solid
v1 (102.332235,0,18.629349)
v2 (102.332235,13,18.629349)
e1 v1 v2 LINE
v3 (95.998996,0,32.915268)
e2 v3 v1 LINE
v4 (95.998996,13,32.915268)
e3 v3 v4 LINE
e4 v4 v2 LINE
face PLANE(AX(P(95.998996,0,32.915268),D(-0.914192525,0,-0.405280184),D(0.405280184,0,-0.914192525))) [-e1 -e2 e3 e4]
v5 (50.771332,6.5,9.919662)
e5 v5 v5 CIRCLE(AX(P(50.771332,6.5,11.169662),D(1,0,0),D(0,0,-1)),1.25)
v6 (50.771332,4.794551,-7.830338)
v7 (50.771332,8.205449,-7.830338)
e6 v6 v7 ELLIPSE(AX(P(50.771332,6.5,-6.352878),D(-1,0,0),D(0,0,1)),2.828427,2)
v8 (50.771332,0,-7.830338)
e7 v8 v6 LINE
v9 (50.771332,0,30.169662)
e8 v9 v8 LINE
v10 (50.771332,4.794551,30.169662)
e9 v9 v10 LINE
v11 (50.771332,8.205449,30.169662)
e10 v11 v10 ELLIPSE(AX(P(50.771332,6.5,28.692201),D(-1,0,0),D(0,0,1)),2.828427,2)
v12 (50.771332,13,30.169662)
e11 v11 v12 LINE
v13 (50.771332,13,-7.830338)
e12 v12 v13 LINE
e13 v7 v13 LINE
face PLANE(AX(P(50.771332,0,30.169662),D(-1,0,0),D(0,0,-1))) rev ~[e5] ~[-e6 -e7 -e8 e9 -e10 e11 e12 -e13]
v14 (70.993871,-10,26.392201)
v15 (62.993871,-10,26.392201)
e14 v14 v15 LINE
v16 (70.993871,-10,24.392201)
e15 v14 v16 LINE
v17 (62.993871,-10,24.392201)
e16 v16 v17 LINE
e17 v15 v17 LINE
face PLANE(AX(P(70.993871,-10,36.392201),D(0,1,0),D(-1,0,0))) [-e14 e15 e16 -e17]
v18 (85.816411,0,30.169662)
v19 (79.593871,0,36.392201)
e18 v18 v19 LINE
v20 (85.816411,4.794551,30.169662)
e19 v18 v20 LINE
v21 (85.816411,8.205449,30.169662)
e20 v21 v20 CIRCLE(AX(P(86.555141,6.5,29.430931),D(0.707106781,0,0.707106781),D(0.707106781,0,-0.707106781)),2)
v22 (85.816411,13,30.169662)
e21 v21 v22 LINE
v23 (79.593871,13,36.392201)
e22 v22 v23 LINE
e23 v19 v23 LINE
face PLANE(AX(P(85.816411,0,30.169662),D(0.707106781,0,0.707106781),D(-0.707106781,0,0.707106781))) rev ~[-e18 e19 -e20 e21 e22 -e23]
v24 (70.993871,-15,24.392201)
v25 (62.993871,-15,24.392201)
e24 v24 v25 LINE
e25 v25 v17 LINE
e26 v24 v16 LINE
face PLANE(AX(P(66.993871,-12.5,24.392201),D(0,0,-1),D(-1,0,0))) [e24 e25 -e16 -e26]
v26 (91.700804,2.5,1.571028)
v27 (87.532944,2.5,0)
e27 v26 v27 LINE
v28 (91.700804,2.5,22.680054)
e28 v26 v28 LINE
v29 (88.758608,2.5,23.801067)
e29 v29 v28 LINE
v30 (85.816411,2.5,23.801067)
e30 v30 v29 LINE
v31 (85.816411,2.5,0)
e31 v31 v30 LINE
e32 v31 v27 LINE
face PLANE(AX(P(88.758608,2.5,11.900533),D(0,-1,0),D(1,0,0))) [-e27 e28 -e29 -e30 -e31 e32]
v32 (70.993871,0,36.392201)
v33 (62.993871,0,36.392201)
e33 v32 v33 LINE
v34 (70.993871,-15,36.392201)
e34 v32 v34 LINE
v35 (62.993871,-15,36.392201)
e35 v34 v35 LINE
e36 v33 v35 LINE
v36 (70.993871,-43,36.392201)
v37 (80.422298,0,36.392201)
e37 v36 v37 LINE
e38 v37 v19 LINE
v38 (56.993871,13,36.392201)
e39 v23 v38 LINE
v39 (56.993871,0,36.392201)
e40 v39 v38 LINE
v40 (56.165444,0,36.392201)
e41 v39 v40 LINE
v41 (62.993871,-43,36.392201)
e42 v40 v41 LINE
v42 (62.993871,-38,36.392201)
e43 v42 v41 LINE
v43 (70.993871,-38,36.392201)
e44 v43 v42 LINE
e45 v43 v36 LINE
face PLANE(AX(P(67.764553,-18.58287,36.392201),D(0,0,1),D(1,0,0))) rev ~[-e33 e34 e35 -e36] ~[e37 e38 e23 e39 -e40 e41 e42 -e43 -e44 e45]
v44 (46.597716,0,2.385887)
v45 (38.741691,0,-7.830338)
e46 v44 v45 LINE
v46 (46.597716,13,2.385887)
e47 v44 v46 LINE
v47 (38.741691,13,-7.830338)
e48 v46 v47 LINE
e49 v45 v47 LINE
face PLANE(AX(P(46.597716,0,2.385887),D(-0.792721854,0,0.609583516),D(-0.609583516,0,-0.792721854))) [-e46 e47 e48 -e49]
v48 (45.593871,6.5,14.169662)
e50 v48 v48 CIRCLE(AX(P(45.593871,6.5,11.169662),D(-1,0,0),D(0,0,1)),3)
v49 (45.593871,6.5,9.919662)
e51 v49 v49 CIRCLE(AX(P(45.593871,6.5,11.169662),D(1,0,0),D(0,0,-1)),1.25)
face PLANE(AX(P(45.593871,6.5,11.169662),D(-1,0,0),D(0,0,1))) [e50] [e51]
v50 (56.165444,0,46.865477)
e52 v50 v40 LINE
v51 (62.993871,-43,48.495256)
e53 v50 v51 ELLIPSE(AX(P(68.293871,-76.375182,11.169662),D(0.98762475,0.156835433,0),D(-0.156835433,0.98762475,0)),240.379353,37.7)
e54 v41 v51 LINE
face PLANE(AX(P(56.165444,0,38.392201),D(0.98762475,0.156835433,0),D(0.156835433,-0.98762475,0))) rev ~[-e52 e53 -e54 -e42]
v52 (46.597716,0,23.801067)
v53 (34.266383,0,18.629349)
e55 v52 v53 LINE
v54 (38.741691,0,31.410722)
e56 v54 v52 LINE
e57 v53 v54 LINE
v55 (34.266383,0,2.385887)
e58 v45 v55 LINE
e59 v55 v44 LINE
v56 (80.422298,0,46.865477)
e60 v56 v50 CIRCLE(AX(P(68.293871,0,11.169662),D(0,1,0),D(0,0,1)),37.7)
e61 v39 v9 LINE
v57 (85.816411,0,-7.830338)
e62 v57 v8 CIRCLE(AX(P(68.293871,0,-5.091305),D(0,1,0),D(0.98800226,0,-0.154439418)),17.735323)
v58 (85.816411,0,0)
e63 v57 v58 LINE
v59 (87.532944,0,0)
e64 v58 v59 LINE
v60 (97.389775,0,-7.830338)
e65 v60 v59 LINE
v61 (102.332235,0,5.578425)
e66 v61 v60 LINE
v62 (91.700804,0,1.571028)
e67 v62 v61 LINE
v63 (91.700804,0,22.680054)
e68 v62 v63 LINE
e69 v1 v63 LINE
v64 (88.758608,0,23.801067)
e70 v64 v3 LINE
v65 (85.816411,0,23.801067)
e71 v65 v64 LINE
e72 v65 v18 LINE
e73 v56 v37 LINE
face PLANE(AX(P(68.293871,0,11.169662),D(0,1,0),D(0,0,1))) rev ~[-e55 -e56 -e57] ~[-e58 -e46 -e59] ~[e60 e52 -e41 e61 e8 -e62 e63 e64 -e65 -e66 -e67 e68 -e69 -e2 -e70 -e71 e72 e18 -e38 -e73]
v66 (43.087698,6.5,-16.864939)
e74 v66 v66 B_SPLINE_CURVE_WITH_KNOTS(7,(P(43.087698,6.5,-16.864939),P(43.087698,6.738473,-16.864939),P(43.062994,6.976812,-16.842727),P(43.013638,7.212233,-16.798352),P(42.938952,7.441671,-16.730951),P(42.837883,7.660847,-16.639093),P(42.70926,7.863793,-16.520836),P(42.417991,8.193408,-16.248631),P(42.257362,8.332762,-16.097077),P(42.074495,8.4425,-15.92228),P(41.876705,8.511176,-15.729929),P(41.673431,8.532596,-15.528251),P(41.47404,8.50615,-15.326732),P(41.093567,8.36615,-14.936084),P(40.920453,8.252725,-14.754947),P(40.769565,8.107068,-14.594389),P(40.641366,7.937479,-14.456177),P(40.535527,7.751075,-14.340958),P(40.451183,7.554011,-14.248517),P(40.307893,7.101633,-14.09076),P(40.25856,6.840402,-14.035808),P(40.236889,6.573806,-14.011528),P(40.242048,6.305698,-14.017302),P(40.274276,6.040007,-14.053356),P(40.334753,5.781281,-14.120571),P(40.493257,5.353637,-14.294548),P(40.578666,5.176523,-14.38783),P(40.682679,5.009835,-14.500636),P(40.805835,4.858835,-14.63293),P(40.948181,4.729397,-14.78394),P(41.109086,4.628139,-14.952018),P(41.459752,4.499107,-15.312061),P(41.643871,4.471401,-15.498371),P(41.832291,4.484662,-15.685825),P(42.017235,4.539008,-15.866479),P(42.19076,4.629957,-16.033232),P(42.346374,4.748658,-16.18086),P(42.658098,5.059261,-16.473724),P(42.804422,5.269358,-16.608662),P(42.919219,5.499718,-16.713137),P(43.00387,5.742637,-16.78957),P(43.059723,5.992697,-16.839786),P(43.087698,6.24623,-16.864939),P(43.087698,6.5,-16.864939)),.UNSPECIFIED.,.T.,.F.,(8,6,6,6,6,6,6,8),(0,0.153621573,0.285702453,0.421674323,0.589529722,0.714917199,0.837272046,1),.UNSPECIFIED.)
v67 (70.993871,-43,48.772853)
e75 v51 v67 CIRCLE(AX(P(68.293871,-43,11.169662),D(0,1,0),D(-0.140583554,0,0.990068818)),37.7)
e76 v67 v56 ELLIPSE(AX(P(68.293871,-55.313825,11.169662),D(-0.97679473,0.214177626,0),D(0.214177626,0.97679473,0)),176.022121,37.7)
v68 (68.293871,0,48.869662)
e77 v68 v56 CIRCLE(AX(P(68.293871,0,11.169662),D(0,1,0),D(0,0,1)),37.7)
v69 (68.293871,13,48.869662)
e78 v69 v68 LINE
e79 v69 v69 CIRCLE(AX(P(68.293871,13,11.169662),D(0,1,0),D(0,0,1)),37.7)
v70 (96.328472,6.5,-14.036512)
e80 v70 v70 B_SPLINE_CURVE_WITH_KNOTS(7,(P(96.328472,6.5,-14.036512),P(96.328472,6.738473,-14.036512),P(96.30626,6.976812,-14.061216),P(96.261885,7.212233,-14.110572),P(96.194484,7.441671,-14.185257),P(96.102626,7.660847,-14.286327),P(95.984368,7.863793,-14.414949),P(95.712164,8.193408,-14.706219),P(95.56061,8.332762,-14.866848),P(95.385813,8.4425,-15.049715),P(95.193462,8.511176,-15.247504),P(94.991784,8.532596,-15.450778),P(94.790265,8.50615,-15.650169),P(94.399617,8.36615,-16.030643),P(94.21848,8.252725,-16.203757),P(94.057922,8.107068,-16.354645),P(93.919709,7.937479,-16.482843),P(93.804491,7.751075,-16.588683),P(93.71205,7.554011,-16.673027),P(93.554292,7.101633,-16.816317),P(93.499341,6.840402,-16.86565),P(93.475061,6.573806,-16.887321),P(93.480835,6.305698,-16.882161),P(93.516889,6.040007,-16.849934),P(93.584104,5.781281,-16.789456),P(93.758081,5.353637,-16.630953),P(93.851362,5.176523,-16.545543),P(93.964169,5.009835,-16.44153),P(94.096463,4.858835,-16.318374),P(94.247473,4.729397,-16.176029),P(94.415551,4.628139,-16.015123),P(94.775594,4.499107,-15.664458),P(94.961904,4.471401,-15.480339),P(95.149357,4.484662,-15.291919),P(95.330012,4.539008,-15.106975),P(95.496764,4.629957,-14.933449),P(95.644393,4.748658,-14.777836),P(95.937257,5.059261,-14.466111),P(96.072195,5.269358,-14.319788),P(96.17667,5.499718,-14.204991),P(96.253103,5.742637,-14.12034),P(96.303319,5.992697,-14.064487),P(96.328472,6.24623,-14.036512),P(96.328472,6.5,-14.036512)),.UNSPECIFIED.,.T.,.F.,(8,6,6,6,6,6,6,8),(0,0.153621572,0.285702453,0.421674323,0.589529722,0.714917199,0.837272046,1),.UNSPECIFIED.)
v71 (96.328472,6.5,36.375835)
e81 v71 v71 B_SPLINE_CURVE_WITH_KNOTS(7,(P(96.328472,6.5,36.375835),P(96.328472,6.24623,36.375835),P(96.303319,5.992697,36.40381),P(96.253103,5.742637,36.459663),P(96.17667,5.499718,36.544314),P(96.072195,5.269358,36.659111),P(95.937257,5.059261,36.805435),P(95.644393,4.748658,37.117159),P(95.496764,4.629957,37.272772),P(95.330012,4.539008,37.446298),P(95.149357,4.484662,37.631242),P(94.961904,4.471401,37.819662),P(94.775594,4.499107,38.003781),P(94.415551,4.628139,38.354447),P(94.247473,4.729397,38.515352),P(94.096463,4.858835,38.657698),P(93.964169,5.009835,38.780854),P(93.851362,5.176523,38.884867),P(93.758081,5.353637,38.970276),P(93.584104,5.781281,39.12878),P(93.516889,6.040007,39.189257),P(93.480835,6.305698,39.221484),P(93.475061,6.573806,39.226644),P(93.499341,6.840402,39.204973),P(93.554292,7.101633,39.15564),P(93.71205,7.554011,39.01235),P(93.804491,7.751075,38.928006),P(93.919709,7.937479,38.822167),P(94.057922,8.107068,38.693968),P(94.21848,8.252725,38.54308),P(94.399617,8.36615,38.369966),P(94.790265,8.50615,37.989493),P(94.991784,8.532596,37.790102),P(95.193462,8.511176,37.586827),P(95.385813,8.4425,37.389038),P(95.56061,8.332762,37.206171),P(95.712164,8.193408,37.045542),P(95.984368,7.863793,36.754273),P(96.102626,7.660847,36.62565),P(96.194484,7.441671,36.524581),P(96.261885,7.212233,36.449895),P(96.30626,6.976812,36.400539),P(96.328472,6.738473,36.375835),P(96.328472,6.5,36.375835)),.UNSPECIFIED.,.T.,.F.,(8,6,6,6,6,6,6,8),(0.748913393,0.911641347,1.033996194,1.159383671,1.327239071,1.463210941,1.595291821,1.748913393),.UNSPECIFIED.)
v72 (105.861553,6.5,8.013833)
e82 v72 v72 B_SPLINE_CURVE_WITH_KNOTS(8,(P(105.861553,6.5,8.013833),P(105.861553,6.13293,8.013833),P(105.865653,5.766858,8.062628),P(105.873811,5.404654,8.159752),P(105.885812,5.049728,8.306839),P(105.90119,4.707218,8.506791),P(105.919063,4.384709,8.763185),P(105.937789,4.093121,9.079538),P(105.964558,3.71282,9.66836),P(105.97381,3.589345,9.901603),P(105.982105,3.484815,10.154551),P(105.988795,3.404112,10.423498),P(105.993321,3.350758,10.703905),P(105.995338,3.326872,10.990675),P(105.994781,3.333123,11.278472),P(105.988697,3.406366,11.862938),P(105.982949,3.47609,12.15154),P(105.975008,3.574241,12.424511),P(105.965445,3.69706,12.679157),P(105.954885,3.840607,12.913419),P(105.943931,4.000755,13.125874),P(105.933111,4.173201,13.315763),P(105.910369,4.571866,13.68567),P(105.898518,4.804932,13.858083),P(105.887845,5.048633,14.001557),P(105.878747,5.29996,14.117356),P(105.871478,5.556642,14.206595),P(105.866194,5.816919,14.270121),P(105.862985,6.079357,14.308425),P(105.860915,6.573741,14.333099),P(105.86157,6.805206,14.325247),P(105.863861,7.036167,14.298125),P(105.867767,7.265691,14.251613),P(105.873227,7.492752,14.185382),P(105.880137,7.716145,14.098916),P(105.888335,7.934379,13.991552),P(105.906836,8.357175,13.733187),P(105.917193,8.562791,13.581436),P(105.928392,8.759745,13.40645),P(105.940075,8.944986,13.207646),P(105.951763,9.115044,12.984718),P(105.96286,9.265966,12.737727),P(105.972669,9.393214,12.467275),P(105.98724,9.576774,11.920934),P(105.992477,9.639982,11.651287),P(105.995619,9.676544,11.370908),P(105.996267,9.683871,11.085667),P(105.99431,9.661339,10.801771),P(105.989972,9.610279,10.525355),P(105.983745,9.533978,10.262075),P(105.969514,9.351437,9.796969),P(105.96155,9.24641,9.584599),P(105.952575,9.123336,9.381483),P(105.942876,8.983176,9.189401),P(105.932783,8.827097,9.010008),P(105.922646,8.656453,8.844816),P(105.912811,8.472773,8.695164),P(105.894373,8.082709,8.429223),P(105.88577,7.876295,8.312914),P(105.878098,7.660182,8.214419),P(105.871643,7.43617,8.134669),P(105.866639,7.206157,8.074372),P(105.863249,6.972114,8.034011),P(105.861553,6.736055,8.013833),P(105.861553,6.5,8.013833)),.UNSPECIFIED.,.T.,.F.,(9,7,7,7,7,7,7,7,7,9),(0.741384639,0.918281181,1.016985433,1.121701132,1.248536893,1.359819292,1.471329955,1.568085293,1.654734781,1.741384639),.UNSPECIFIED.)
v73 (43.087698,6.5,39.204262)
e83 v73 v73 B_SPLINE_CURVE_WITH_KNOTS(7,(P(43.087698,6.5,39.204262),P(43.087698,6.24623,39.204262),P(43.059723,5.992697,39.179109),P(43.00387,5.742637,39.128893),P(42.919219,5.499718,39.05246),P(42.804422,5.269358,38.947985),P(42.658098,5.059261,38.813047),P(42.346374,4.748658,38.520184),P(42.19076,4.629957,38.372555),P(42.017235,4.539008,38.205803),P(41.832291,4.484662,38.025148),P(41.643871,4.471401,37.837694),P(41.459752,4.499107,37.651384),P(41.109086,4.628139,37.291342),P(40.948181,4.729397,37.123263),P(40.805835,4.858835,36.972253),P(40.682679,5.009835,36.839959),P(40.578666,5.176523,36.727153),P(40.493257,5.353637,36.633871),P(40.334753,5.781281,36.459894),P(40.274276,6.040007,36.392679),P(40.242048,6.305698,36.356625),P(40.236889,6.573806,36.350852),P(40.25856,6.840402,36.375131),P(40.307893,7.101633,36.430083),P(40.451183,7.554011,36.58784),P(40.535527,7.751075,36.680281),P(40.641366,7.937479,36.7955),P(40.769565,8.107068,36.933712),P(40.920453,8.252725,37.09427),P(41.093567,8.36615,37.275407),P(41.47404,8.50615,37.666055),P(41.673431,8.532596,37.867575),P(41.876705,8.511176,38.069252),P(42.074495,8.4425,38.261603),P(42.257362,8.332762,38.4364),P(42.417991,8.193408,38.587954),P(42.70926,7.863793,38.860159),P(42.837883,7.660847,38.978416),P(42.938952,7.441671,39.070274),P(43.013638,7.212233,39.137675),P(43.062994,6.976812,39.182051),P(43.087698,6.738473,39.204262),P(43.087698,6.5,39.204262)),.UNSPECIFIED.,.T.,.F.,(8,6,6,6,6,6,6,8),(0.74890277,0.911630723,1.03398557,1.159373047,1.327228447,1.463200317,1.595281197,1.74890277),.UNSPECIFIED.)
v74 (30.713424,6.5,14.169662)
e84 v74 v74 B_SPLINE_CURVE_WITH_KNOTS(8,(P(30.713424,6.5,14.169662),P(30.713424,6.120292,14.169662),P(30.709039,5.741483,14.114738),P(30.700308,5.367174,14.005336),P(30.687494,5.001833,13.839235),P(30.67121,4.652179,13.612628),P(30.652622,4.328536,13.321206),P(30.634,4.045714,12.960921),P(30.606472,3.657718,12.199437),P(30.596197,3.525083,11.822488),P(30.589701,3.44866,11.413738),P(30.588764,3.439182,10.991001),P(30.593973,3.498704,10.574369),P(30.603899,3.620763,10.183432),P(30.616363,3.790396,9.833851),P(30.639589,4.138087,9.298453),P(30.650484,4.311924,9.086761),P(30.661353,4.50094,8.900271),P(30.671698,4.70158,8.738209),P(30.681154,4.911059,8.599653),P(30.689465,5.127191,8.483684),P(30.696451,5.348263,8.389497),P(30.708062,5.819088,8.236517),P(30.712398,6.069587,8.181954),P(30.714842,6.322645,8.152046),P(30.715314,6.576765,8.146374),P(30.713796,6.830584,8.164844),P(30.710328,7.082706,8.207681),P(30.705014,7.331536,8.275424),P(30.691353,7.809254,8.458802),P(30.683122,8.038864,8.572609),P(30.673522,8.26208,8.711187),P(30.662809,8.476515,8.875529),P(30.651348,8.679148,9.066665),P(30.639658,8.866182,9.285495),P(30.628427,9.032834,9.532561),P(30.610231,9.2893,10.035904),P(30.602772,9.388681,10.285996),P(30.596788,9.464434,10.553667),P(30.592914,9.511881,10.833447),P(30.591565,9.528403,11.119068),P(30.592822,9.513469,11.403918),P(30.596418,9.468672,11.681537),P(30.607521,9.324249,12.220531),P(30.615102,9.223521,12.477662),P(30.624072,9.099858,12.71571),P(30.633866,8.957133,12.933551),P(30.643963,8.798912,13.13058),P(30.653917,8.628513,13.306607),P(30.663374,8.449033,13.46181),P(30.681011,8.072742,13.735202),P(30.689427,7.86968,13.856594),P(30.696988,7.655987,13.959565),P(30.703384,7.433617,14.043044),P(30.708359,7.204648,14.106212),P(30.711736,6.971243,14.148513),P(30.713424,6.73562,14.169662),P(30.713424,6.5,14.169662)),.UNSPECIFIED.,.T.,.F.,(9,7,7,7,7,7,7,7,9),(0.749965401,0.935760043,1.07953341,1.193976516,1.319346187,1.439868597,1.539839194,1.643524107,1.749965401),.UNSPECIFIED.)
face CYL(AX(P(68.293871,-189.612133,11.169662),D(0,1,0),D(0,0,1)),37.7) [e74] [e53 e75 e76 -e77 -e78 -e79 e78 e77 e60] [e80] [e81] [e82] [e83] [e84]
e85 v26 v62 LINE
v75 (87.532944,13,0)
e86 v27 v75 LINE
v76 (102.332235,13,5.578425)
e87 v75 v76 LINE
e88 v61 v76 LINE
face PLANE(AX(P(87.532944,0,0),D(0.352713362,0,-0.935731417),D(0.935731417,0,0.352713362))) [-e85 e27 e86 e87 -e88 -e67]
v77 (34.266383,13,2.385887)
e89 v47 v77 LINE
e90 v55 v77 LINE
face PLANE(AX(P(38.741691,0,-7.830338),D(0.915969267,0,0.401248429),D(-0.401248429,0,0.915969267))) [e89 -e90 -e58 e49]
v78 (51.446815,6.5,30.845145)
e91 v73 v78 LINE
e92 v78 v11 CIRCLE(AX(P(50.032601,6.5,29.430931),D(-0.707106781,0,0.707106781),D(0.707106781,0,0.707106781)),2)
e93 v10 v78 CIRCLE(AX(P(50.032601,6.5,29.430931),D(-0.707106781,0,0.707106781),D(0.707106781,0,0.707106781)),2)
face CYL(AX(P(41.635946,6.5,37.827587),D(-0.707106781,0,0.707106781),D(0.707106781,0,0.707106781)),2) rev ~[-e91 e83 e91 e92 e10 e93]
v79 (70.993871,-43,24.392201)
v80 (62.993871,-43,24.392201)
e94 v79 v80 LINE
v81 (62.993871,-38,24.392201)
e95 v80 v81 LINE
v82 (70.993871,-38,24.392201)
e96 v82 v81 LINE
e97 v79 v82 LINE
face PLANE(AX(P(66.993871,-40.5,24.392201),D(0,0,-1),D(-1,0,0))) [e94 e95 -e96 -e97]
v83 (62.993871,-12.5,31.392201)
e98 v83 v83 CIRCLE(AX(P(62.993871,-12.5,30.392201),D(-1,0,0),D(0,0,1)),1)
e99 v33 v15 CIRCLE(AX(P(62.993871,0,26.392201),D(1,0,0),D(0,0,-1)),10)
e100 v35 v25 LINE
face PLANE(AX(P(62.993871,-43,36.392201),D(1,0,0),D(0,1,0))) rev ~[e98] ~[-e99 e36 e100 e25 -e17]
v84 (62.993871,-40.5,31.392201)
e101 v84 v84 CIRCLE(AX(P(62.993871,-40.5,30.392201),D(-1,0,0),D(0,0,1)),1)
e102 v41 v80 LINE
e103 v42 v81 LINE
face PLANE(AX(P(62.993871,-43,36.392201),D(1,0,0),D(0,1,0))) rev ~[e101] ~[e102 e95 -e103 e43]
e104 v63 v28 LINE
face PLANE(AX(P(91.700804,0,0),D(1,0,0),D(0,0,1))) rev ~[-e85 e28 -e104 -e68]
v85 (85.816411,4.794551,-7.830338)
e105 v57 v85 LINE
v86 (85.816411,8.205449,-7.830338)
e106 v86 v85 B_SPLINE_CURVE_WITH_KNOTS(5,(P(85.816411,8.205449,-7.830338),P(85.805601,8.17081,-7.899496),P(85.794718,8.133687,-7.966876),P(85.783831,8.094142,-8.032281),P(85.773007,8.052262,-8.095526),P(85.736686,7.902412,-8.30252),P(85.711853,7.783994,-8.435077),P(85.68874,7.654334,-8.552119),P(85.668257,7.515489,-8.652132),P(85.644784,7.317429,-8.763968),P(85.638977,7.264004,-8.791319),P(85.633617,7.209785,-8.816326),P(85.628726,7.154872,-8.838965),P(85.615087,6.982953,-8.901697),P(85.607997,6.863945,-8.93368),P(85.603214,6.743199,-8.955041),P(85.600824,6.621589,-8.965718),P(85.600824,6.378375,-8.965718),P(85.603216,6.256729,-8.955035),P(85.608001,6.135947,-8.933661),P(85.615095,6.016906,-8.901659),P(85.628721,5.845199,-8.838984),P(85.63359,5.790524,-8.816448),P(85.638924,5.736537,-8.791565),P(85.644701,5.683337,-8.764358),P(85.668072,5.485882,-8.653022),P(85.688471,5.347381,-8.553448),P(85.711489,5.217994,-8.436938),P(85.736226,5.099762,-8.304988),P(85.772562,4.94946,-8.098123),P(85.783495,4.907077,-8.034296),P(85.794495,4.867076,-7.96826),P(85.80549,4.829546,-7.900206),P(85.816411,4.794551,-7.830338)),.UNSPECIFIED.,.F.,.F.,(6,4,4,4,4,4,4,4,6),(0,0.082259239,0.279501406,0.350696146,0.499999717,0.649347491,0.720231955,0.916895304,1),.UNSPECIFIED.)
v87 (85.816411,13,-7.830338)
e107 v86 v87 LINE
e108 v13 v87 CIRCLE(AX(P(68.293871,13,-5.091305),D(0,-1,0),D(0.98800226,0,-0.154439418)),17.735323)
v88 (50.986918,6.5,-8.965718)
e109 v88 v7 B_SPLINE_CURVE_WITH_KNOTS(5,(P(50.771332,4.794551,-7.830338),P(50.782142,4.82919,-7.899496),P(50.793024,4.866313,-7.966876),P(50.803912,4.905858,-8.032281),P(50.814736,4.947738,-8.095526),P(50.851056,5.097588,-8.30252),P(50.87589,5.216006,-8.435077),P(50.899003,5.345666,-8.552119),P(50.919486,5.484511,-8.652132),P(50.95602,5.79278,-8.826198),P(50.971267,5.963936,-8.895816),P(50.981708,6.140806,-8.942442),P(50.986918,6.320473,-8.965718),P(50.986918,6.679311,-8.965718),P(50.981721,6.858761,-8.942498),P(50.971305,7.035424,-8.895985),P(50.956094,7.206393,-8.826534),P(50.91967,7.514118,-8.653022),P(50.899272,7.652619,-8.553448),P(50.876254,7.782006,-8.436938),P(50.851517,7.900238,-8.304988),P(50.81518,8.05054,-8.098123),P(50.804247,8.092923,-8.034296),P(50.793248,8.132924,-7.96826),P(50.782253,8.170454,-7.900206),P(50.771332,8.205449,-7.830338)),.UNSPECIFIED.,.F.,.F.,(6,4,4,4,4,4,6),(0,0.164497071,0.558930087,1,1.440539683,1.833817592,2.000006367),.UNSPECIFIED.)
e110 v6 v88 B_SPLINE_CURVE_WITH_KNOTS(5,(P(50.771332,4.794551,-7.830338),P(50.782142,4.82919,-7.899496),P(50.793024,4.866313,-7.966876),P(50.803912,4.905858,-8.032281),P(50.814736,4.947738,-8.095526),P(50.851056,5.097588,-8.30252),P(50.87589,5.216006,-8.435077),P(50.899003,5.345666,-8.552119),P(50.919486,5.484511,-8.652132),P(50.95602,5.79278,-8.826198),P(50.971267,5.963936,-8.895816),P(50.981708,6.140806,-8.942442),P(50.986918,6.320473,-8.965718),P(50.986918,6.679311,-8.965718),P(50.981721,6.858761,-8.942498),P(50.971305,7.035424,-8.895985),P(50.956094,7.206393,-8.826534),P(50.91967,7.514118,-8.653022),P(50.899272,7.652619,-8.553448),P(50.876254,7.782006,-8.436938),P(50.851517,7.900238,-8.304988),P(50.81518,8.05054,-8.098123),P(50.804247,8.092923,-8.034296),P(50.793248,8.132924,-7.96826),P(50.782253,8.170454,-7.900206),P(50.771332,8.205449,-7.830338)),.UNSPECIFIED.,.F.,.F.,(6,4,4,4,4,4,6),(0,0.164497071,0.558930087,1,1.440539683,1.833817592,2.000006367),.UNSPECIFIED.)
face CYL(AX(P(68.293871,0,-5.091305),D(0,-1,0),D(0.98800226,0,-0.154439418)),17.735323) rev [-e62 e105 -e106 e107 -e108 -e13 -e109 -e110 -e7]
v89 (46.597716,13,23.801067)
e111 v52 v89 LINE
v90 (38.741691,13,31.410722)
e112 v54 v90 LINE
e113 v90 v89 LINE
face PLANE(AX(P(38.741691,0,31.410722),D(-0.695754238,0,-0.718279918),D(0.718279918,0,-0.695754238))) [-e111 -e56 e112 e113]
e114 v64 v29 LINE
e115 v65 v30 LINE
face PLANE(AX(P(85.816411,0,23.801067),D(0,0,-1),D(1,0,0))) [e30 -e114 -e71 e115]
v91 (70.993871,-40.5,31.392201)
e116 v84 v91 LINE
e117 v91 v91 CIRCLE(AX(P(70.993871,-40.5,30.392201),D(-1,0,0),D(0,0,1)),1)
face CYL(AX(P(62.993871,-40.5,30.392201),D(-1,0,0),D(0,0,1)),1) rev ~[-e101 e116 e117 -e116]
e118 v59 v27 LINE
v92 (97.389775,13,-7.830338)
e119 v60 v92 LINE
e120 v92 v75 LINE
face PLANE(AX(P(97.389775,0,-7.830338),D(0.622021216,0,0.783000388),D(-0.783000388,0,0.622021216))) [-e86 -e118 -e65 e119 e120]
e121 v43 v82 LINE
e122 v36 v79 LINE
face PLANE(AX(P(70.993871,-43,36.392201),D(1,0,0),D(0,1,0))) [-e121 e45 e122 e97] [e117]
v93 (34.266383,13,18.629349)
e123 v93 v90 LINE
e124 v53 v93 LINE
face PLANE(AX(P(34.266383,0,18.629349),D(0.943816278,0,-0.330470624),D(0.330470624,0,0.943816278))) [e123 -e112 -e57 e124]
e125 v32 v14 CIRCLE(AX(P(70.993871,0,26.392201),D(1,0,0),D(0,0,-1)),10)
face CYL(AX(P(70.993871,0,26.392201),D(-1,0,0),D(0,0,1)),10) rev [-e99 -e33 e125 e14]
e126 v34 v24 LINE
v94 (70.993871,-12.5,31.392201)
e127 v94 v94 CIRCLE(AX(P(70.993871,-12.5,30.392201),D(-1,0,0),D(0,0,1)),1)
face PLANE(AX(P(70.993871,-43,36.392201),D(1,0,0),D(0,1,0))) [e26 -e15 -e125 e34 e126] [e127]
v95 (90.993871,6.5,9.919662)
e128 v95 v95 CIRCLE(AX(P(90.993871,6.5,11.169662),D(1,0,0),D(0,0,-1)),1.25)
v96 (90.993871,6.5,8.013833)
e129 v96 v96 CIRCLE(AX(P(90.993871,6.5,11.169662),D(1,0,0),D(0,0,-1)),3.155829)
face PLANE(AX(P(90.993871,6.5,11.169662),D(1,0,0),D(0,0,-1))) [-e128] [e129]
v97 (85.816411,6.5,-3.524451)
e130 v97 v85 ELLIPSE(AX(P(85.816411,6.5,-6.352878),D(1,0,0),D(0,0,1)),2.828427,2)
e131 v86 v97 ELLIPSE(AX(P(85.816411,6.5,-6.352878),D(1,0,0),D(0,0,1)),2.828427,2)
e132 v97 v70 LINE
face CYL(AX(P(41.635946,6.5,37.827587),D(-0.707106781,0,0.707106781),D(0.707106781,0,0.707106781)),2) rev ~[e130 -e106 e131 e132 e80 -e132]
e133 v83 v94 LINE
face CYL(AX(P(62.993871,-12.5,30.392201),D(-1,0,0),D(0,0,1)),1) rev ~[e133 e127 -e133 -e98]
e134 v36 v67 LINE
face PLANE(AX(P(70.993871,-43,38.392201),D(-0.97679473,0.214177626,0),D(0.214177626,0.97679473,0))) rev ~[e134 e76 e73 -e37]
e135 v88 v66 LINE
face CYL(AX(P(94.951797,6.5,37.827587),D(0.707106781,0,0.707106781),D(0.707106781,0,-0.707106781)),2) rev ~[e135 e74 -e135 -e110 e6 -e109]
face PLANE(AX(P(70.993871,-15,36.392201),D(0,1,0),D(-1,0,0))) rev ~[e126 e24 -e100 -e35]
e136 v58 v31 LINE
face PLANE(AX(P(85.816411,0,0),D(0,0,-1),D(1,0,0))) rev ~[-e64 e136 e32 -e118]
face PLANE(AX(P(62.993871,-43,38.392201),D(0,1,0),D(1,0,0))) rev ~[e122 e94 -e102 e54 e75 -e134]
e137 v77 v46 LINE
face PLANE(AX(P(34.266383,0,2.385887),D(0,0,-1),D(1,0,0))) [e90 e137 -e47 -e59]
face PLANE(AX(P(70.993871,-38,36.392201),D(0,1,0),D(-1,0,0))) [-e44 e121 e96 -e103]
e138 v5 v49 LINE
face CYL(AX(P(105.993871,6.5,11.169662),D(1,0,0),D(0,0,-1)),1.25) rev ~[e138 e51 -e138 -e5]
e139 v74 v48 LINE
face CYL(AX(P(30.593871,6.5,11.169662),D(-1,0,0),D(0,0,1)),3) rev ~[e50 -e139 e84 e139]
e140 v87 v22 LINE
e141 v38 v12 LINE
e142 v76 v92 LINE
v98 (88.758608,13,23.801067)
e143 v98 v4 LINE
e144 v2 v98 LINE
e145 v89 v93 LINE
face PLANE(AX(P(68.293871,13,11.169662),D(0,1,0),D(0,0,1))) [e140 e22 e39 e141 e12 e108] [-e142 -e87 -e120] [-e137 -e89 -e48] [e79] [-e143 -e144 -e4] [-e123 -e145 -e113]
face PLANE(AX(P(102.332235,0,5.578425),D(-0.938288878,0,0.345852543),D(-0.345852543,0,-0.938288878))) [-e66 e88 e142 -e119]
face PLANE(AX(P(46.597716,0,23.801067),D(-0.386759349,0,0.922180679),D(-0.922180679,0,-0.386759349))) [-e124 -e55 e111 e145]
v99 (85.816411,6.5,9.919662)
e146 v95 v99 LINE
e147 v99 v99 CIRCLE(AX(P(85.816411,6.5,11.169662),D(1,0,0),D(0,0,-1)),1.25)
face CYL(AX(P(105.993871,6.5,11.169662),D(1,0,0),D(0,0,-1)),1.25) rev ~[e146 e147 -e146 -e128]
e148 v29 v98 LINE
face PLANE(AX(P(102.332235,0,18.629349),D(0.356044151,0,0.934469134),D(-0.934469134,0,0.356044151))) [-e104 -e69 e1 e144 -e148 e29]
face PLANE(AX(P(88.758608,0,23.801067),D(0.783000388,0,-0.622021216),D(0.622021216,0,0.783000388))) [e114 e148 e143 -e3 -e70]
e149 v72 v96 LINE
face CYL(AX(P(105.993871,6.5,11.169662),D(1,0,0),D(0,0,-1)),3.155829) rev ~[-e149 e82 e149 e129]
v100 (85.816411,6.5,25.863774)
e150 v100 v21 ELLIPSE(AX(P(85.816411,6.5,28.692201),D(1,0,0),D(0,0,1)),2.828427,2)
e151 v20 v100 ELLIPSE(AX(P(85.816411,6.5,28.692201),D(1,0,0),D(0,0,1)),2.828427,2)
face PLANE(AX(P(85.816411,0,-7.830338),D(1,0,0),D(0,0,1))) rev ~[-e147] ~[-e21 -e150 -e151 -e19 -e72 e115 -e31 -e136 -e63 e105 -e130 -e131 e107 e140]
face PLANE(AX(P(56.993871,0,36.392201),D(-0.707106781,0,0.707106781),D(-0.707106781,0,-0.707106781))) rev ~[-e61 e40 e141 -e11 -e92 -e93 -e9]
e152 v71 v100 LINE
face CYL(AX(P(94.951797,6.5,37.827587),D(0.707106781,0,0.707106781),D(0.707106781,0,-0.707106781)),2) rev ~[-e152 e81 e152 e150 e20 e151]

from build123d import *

# Parameters (mm, degrees)
BOSS_EXTRUDE1_DEPTH      = 13
SKETCH4_W                = 8
SKETCH4_H                = 2
BOSS_EXTRUDE2_DEPTH      = 43
SKETCH5_W                = 8
SKETCH5_H                = 5
BOSS_EXTRUDE3_DEPTH      = 12
SKETCH6_R                = 1
CUT_EXTRUDE3_DEPTH       = 13
FILLET1_R                = 10
BOSS_EXTRUDE4_DEPTH      = 2
SKETCH11_R               = 37.7
BOSS_EXTRUDE5_DEPTH      = 13
SKETCH22_R               = 1.25
CUT_EXTRUDE6_DEPTH       = 83
SKETCH22_3_R             = 3.155829002
SKETCH22_3_R_2           = 1.25
CUT_EXTRUDE7_DEPTH       = 15
SKETCH23_R               = 3
CUT_EXTRUDE8_DEPTH       = 15
BOSS_EXTRUDE6_REACH      = 133.524
BOSS_EXTRUDE6_END_RADIUS = 37.7
SKETCH26_R               = 2
CUT_EXTRUDE9_DEPTH       = 88
SKETCH27_R               = 2
CUT_EXTRUDE10_DEPTH      = 120
SKETCH28_W               = 5.884393281
SKETCH28_H               = 23.801066831
CUT_EXTRUDE11_DEPTH      = 2.5
CUT_EXTRUDE12_REACH      = 126.386


with BuildPart() as part:
    # Sketch2 → Boss-Extrude1 (new body)
    with BuildSketch(Plane(origin=(0, 0, 0), x_dir=(1, 0, 0), z_dir=(0, 1, 0))):
        Polygon((56.165444193, 16.052878064), (80.422298442, 16.052878064), (87.816410992, 8.658765514), (87.816410992, -30.998088735), (80.422298442, -38.392201285), (56.165444193, -38.392201285), (48.771331643, -30.998088735), (48.771331643, 8.658765514), align=None)
        Polygon((50.771331643, -30.16966161), (50.771331643, 7.83033839), (56.993871317, 14.052878064), (79.593871317, 14.052878064), (85.816410992, 7.83033839), (85.816410992, -30.16966161), (79.593871317, -36.392201285), (56.993871317, -36.392201285), align=None, mode=Mode.SUBTRACT)
    extrude(amount=BOSS_EXTRUDE1_DEPTH)

    # Sketch4 → Boss-Extrude2 (add)
    with BuildSketch(Plane.XZ):
        with Locations((66.993871317, 37.392201285)):
            Rectangle(SKETCH4_W, SKETCH4_H)
    extrude(amount=BOSS_EXTRUDE2_DEPTH)

    # Sketch5 → Boss-Extrude3 (add)
    with BuildSketch(Plane(origin=(0, 0, 36.392201285), x_dir=(-1, 0, 0), z_dir=(0, 0, -1))):
        with Locations((-66.993871317, -12.5)):
            Rectangle(SKETCH5_W, SKETCH5_H)
        with Locations((-66.993871317, -40.5)):
            Rectangle(SKETCH5_W, SKETCH5_H)
    extrude(amount=BOSS_EXTRUDE3_DEPTH)

    # Sketch6 → Cut-Extrude3 (cut)
    with BuildSketch(Plane.ZY.offset(-62.993871317)):
        with Locations((30.392201285, -12.5)):
            Circle(SKETCH6_R)
        with Locations((30.392201285, -40.5)):
            Circle(SKETCH6_R)
    extrude(amount=-CUT_EXTRUDE3_DEPTH, mode=Mode.SUBTRACT)

    # Fillet1
    fillet1_edges = [part.edges().sort_by_distance(p)[0] for p in [
        (66.993871317, -10, 36.392201285),
    ]]
    fillet(fillet1_edges, radius=FILLET1_R)

    # Sketch10 → Boss-Extrude4 (add)
    with BuildSketch(Plane.XY.offset(38.392201285)):
        Polygon((56.165444193, 0), (62.993871317, -43), (70.993871317, -43), (80.422298442, 0), align=None)
    extrude(amount=-BOSS_EXTRUDE4_DEPTH)

    # Sketch11 → Boss-Extrude5 (add)
    with BuildSketch(Plane(origin=(0, 13, 0), x_dir=(1, 0, 0), z_dir=(0, 1, 0))):
        with Locations(Location((68.293871317, -11.16966161, 0), (0, 0, 270))):
            Circle(SKETCH11_R)
        Polygon((56.165444193, 16.052878064), (48.771331643, 8.658765514), (48.771331643, -30.998088735), (56.165444193, -38.392201285), (80.422298442, -38.392201285), (87.816410992, -30.998088735), (87.816410992, 8.658765514), (80.422298442, 16.052878064), align=None, mode=Mode.SUBTRACT)
    extrude(amount=-BOSS_EXTRUDE5_DEPTH)

    # Sketch22 → Cut-Extrude6 (cut)
    with BuildSketch(Plane(origin=(105.993871317, 0, 0), x_dir=(0, 0, -1), z_dir=(1, 0, 0))):
        with Locations((-11.16966161, 6.5)):
            Circle(SKETCH22_R)
    extrude(amount=-CUT_EXTRUDE6_DEPTH, mode=Mode.SUBTRACT)

    # Sketch22<3> → Cut-Extrude7 (cut)
    with BuildSketch(Plane(origin=(105.993871317, 0, 0), x_dir=(0, 0, -1), z_dir=(1, 0, 0))):
        with Locations((-11.16966161, 6.5)):
            Circle(SKETCH22_3_R)
        with Locations((-11.16966161, 6.5)):
            Circle(SKETCH22_3_R_2, mode=Mode.SUBTRACT)
    extrude(amount=-CUT_EXTRUDE7_DEPTH, mode=Mode.SUBTRACT)

    # Sketch23 → Cut-Extrude8 (cut)
    with BuildSketch(Plane.ZY.offset(-30.593871317)):
        with Locations((11.16966161, 6.5)):
            Circle(SKETCH23_R)
    extrude(amount=-CUT_EXTRUDE8_DEPTH, mode=Mode.SUBTRACT)

    # Boss-Extrude6: up to this cylinder (the profile starts inside it)
    boss_extrude6_end = Plane(origin=(68.293871317, -17.888133, 11.16966161), z_dir=(0, 1, 0)) * Cylinder(BOSS_EXTRUDE6_END_RADIUS, 343.448, mode=Mode.PRIVATE)
    # Sketch25 → Boss-Extrude6 (add, up to the surface)
    with BuildSketch(Plane.XY.offset(38.392201285), mode=Mode.PRIVATE) as boss_extrude6_sk1:
        Polygon((80.422298442, 0), (56.165444193, 0), (62.993871317, -43), (70.993871317, -43), align=None)
    boss_extrude6_tool1 = extrude(boss_extrude6_sk1.sketch, amount=BOSS_EXTRUDE6_REACH, mode=Mode.PRIVATE) & boss_extrude6_end
    add(boss_extrude6_tool1.solids().sort_by_distance((67.753067, -17.888133, 38.392201))[0])

    # Sketch26 → Cut-Extrude9 (cut)
    with BuildSketch(Plane(origin=(1.904179203, 0, -1.904179203), x_dir=(0.7071067811865485, 0, 0.7071067811865467), z_dir=(-0.7071067811865467, 0, 0.7071067811865485))):
        with Locations((56.18920299, 6.5)):
            Circle(SKETCH26_R)
    extrude(amount=-CUT_EXTRUDE9_DEPTH, mode=Mode.SUBTRACT)

    # Sketch27 → Cut-Extrude10 (cut)
    with BuildSketch(Plane(origin=(66.389692115, 0, 66.389692115), x_dir=(0.7071067811865477, 0, -0.7071067811865474), z_dir=(0.7071067811865474, 0, 0.7071067811865477))):
        with Locations((40.392916054, 6.5)):
            Circle(SKETCH27_R)
    extrude(amount=-CUT_EXTRUDE10_DEPTH, mode=Mode.SUBTRACT)

    # Sketch28 → Cut-Extrude11 (cut)
    with BuildSketch(Plane.XZ):
        with Locations((88.758607633, 11.900533415)):
            Rectangle(SKETCH28_W, SKETCH28_H)
    extrude(amount=-CUT_EXTRUDE11_DEPTH, mode=Mode.SUBTRACT)

    # Sketch30 → Cut-Extrude12 (cut, up to next)
    with BuildSketch(Plane.XZ, mode=Mode.PRIVATE) as cut_extrude12_sk1:
        with BuildLine():
            Line((50.771331643, -7.83033839), (85.816410992, -7.83033839))
            ThreePointArc((85.816410992, -7.83033839), (68.293871317, -22.826628819), (50.771331643, -7.83033839))
        make_face()
    cut_extrude12_tool1 = extrude(cut_extrude12_sk1.sketch, amount=-CUT_EXTRUDE12_REACH, mode=Mode.PRIVATE) & part.part
    # Sketch30 → Cut-Extrude12 (cut, up to next)
    with BuildSketch(Plane.XZ, mode=Mode.PRIVATE) as cut_extrude12_sk2:
        Polygon((38.741691169, -7.83033839), (34.266383325, 2.385887147), (46.597716142, 2.385887147), align=None)
    cut_extrude12_tool2 = extrude(cut_extrude12_sk2.sketch, amount=-CUT_EXTRUDE12_REACH, mode=Mode.PRIVATE) & part.part
    # Sketch30 → Cut-Extrude12 (cut, up to next)
    with BuildSketch(Plane.XZ, mode=Mode.PRIVATE) as cut_extrude12_sk3:
        Polygon((97.389775461, -7.83033839), (87.532944471, 0), (102.33223512, 5.578425036), align=None)
    cut_extrude12_tool3 = extrude(cut_extrude12_sk3.sketch, amount=-CUT_EXTRUDE12_REACH, mode=Mode.PRIVATE) & part.part
    # Sketch30 → Cut-Extrude12 (cut, up to next)
    with BuildSketch(Plane.XZ, mode=Mode.PRIVATE) as cut_extrude12_sk4:
        Polygon((102.33223512, 18.629349006), (88.758607633, 23.801066831), (95.998995796, 32.915268399), align=None)
    cut_extrude12_tool4 = extrude(cut_extrude12_sk4.sketch, amount=-CUT_EXTRUDE12_REACH, mode=Mode.PRIVATE) & part.part
    # Sketch30 → Cut-Extrude12 (cut, up to next)
    with BuildSketch(Plane.XZ, mode=Mode.PRIVATE) as cut_extrude12_sk5:
        Polygon((34.266383325, 18.629349006), (38.741691169, 31.410722253), (46.597716142, 23.801066831), align=None)
    cut_extrude12_tool5 = extrude(cut_extrude12_sk5.sketch, amount=-CUT_EXTRUDE12_REACH, mode=Mode.PRIVATE) & part.part
    add(cut_extrude12_tool1.solids().sort_by_distance((68.293871, 0, -14.118791))[0], mode=Mode.SUBTRACT)
    add(cut_extrude12_tool2.solids().sort_by_distance((39.868597, 0, -1.019521))[0], mode=Mode.SUBTRACT)
    add(cut_extrude12_tool3.solids().sort_by_distance((95.751652, 0, -0.750638))[0], mode=Mode.SUBTRACT)
    add(cut_extrude12_tool4.solids().sort_by_distance((95.696613, 0, 25.115228))[0], mode=Mode.SUBTRACT)
    add(cut_extrude12_tool5.solids().sort_by_distance((39.868597, 0, 24.613713))[0], mode=Mode.SUBTRACT)


solid = part.part
